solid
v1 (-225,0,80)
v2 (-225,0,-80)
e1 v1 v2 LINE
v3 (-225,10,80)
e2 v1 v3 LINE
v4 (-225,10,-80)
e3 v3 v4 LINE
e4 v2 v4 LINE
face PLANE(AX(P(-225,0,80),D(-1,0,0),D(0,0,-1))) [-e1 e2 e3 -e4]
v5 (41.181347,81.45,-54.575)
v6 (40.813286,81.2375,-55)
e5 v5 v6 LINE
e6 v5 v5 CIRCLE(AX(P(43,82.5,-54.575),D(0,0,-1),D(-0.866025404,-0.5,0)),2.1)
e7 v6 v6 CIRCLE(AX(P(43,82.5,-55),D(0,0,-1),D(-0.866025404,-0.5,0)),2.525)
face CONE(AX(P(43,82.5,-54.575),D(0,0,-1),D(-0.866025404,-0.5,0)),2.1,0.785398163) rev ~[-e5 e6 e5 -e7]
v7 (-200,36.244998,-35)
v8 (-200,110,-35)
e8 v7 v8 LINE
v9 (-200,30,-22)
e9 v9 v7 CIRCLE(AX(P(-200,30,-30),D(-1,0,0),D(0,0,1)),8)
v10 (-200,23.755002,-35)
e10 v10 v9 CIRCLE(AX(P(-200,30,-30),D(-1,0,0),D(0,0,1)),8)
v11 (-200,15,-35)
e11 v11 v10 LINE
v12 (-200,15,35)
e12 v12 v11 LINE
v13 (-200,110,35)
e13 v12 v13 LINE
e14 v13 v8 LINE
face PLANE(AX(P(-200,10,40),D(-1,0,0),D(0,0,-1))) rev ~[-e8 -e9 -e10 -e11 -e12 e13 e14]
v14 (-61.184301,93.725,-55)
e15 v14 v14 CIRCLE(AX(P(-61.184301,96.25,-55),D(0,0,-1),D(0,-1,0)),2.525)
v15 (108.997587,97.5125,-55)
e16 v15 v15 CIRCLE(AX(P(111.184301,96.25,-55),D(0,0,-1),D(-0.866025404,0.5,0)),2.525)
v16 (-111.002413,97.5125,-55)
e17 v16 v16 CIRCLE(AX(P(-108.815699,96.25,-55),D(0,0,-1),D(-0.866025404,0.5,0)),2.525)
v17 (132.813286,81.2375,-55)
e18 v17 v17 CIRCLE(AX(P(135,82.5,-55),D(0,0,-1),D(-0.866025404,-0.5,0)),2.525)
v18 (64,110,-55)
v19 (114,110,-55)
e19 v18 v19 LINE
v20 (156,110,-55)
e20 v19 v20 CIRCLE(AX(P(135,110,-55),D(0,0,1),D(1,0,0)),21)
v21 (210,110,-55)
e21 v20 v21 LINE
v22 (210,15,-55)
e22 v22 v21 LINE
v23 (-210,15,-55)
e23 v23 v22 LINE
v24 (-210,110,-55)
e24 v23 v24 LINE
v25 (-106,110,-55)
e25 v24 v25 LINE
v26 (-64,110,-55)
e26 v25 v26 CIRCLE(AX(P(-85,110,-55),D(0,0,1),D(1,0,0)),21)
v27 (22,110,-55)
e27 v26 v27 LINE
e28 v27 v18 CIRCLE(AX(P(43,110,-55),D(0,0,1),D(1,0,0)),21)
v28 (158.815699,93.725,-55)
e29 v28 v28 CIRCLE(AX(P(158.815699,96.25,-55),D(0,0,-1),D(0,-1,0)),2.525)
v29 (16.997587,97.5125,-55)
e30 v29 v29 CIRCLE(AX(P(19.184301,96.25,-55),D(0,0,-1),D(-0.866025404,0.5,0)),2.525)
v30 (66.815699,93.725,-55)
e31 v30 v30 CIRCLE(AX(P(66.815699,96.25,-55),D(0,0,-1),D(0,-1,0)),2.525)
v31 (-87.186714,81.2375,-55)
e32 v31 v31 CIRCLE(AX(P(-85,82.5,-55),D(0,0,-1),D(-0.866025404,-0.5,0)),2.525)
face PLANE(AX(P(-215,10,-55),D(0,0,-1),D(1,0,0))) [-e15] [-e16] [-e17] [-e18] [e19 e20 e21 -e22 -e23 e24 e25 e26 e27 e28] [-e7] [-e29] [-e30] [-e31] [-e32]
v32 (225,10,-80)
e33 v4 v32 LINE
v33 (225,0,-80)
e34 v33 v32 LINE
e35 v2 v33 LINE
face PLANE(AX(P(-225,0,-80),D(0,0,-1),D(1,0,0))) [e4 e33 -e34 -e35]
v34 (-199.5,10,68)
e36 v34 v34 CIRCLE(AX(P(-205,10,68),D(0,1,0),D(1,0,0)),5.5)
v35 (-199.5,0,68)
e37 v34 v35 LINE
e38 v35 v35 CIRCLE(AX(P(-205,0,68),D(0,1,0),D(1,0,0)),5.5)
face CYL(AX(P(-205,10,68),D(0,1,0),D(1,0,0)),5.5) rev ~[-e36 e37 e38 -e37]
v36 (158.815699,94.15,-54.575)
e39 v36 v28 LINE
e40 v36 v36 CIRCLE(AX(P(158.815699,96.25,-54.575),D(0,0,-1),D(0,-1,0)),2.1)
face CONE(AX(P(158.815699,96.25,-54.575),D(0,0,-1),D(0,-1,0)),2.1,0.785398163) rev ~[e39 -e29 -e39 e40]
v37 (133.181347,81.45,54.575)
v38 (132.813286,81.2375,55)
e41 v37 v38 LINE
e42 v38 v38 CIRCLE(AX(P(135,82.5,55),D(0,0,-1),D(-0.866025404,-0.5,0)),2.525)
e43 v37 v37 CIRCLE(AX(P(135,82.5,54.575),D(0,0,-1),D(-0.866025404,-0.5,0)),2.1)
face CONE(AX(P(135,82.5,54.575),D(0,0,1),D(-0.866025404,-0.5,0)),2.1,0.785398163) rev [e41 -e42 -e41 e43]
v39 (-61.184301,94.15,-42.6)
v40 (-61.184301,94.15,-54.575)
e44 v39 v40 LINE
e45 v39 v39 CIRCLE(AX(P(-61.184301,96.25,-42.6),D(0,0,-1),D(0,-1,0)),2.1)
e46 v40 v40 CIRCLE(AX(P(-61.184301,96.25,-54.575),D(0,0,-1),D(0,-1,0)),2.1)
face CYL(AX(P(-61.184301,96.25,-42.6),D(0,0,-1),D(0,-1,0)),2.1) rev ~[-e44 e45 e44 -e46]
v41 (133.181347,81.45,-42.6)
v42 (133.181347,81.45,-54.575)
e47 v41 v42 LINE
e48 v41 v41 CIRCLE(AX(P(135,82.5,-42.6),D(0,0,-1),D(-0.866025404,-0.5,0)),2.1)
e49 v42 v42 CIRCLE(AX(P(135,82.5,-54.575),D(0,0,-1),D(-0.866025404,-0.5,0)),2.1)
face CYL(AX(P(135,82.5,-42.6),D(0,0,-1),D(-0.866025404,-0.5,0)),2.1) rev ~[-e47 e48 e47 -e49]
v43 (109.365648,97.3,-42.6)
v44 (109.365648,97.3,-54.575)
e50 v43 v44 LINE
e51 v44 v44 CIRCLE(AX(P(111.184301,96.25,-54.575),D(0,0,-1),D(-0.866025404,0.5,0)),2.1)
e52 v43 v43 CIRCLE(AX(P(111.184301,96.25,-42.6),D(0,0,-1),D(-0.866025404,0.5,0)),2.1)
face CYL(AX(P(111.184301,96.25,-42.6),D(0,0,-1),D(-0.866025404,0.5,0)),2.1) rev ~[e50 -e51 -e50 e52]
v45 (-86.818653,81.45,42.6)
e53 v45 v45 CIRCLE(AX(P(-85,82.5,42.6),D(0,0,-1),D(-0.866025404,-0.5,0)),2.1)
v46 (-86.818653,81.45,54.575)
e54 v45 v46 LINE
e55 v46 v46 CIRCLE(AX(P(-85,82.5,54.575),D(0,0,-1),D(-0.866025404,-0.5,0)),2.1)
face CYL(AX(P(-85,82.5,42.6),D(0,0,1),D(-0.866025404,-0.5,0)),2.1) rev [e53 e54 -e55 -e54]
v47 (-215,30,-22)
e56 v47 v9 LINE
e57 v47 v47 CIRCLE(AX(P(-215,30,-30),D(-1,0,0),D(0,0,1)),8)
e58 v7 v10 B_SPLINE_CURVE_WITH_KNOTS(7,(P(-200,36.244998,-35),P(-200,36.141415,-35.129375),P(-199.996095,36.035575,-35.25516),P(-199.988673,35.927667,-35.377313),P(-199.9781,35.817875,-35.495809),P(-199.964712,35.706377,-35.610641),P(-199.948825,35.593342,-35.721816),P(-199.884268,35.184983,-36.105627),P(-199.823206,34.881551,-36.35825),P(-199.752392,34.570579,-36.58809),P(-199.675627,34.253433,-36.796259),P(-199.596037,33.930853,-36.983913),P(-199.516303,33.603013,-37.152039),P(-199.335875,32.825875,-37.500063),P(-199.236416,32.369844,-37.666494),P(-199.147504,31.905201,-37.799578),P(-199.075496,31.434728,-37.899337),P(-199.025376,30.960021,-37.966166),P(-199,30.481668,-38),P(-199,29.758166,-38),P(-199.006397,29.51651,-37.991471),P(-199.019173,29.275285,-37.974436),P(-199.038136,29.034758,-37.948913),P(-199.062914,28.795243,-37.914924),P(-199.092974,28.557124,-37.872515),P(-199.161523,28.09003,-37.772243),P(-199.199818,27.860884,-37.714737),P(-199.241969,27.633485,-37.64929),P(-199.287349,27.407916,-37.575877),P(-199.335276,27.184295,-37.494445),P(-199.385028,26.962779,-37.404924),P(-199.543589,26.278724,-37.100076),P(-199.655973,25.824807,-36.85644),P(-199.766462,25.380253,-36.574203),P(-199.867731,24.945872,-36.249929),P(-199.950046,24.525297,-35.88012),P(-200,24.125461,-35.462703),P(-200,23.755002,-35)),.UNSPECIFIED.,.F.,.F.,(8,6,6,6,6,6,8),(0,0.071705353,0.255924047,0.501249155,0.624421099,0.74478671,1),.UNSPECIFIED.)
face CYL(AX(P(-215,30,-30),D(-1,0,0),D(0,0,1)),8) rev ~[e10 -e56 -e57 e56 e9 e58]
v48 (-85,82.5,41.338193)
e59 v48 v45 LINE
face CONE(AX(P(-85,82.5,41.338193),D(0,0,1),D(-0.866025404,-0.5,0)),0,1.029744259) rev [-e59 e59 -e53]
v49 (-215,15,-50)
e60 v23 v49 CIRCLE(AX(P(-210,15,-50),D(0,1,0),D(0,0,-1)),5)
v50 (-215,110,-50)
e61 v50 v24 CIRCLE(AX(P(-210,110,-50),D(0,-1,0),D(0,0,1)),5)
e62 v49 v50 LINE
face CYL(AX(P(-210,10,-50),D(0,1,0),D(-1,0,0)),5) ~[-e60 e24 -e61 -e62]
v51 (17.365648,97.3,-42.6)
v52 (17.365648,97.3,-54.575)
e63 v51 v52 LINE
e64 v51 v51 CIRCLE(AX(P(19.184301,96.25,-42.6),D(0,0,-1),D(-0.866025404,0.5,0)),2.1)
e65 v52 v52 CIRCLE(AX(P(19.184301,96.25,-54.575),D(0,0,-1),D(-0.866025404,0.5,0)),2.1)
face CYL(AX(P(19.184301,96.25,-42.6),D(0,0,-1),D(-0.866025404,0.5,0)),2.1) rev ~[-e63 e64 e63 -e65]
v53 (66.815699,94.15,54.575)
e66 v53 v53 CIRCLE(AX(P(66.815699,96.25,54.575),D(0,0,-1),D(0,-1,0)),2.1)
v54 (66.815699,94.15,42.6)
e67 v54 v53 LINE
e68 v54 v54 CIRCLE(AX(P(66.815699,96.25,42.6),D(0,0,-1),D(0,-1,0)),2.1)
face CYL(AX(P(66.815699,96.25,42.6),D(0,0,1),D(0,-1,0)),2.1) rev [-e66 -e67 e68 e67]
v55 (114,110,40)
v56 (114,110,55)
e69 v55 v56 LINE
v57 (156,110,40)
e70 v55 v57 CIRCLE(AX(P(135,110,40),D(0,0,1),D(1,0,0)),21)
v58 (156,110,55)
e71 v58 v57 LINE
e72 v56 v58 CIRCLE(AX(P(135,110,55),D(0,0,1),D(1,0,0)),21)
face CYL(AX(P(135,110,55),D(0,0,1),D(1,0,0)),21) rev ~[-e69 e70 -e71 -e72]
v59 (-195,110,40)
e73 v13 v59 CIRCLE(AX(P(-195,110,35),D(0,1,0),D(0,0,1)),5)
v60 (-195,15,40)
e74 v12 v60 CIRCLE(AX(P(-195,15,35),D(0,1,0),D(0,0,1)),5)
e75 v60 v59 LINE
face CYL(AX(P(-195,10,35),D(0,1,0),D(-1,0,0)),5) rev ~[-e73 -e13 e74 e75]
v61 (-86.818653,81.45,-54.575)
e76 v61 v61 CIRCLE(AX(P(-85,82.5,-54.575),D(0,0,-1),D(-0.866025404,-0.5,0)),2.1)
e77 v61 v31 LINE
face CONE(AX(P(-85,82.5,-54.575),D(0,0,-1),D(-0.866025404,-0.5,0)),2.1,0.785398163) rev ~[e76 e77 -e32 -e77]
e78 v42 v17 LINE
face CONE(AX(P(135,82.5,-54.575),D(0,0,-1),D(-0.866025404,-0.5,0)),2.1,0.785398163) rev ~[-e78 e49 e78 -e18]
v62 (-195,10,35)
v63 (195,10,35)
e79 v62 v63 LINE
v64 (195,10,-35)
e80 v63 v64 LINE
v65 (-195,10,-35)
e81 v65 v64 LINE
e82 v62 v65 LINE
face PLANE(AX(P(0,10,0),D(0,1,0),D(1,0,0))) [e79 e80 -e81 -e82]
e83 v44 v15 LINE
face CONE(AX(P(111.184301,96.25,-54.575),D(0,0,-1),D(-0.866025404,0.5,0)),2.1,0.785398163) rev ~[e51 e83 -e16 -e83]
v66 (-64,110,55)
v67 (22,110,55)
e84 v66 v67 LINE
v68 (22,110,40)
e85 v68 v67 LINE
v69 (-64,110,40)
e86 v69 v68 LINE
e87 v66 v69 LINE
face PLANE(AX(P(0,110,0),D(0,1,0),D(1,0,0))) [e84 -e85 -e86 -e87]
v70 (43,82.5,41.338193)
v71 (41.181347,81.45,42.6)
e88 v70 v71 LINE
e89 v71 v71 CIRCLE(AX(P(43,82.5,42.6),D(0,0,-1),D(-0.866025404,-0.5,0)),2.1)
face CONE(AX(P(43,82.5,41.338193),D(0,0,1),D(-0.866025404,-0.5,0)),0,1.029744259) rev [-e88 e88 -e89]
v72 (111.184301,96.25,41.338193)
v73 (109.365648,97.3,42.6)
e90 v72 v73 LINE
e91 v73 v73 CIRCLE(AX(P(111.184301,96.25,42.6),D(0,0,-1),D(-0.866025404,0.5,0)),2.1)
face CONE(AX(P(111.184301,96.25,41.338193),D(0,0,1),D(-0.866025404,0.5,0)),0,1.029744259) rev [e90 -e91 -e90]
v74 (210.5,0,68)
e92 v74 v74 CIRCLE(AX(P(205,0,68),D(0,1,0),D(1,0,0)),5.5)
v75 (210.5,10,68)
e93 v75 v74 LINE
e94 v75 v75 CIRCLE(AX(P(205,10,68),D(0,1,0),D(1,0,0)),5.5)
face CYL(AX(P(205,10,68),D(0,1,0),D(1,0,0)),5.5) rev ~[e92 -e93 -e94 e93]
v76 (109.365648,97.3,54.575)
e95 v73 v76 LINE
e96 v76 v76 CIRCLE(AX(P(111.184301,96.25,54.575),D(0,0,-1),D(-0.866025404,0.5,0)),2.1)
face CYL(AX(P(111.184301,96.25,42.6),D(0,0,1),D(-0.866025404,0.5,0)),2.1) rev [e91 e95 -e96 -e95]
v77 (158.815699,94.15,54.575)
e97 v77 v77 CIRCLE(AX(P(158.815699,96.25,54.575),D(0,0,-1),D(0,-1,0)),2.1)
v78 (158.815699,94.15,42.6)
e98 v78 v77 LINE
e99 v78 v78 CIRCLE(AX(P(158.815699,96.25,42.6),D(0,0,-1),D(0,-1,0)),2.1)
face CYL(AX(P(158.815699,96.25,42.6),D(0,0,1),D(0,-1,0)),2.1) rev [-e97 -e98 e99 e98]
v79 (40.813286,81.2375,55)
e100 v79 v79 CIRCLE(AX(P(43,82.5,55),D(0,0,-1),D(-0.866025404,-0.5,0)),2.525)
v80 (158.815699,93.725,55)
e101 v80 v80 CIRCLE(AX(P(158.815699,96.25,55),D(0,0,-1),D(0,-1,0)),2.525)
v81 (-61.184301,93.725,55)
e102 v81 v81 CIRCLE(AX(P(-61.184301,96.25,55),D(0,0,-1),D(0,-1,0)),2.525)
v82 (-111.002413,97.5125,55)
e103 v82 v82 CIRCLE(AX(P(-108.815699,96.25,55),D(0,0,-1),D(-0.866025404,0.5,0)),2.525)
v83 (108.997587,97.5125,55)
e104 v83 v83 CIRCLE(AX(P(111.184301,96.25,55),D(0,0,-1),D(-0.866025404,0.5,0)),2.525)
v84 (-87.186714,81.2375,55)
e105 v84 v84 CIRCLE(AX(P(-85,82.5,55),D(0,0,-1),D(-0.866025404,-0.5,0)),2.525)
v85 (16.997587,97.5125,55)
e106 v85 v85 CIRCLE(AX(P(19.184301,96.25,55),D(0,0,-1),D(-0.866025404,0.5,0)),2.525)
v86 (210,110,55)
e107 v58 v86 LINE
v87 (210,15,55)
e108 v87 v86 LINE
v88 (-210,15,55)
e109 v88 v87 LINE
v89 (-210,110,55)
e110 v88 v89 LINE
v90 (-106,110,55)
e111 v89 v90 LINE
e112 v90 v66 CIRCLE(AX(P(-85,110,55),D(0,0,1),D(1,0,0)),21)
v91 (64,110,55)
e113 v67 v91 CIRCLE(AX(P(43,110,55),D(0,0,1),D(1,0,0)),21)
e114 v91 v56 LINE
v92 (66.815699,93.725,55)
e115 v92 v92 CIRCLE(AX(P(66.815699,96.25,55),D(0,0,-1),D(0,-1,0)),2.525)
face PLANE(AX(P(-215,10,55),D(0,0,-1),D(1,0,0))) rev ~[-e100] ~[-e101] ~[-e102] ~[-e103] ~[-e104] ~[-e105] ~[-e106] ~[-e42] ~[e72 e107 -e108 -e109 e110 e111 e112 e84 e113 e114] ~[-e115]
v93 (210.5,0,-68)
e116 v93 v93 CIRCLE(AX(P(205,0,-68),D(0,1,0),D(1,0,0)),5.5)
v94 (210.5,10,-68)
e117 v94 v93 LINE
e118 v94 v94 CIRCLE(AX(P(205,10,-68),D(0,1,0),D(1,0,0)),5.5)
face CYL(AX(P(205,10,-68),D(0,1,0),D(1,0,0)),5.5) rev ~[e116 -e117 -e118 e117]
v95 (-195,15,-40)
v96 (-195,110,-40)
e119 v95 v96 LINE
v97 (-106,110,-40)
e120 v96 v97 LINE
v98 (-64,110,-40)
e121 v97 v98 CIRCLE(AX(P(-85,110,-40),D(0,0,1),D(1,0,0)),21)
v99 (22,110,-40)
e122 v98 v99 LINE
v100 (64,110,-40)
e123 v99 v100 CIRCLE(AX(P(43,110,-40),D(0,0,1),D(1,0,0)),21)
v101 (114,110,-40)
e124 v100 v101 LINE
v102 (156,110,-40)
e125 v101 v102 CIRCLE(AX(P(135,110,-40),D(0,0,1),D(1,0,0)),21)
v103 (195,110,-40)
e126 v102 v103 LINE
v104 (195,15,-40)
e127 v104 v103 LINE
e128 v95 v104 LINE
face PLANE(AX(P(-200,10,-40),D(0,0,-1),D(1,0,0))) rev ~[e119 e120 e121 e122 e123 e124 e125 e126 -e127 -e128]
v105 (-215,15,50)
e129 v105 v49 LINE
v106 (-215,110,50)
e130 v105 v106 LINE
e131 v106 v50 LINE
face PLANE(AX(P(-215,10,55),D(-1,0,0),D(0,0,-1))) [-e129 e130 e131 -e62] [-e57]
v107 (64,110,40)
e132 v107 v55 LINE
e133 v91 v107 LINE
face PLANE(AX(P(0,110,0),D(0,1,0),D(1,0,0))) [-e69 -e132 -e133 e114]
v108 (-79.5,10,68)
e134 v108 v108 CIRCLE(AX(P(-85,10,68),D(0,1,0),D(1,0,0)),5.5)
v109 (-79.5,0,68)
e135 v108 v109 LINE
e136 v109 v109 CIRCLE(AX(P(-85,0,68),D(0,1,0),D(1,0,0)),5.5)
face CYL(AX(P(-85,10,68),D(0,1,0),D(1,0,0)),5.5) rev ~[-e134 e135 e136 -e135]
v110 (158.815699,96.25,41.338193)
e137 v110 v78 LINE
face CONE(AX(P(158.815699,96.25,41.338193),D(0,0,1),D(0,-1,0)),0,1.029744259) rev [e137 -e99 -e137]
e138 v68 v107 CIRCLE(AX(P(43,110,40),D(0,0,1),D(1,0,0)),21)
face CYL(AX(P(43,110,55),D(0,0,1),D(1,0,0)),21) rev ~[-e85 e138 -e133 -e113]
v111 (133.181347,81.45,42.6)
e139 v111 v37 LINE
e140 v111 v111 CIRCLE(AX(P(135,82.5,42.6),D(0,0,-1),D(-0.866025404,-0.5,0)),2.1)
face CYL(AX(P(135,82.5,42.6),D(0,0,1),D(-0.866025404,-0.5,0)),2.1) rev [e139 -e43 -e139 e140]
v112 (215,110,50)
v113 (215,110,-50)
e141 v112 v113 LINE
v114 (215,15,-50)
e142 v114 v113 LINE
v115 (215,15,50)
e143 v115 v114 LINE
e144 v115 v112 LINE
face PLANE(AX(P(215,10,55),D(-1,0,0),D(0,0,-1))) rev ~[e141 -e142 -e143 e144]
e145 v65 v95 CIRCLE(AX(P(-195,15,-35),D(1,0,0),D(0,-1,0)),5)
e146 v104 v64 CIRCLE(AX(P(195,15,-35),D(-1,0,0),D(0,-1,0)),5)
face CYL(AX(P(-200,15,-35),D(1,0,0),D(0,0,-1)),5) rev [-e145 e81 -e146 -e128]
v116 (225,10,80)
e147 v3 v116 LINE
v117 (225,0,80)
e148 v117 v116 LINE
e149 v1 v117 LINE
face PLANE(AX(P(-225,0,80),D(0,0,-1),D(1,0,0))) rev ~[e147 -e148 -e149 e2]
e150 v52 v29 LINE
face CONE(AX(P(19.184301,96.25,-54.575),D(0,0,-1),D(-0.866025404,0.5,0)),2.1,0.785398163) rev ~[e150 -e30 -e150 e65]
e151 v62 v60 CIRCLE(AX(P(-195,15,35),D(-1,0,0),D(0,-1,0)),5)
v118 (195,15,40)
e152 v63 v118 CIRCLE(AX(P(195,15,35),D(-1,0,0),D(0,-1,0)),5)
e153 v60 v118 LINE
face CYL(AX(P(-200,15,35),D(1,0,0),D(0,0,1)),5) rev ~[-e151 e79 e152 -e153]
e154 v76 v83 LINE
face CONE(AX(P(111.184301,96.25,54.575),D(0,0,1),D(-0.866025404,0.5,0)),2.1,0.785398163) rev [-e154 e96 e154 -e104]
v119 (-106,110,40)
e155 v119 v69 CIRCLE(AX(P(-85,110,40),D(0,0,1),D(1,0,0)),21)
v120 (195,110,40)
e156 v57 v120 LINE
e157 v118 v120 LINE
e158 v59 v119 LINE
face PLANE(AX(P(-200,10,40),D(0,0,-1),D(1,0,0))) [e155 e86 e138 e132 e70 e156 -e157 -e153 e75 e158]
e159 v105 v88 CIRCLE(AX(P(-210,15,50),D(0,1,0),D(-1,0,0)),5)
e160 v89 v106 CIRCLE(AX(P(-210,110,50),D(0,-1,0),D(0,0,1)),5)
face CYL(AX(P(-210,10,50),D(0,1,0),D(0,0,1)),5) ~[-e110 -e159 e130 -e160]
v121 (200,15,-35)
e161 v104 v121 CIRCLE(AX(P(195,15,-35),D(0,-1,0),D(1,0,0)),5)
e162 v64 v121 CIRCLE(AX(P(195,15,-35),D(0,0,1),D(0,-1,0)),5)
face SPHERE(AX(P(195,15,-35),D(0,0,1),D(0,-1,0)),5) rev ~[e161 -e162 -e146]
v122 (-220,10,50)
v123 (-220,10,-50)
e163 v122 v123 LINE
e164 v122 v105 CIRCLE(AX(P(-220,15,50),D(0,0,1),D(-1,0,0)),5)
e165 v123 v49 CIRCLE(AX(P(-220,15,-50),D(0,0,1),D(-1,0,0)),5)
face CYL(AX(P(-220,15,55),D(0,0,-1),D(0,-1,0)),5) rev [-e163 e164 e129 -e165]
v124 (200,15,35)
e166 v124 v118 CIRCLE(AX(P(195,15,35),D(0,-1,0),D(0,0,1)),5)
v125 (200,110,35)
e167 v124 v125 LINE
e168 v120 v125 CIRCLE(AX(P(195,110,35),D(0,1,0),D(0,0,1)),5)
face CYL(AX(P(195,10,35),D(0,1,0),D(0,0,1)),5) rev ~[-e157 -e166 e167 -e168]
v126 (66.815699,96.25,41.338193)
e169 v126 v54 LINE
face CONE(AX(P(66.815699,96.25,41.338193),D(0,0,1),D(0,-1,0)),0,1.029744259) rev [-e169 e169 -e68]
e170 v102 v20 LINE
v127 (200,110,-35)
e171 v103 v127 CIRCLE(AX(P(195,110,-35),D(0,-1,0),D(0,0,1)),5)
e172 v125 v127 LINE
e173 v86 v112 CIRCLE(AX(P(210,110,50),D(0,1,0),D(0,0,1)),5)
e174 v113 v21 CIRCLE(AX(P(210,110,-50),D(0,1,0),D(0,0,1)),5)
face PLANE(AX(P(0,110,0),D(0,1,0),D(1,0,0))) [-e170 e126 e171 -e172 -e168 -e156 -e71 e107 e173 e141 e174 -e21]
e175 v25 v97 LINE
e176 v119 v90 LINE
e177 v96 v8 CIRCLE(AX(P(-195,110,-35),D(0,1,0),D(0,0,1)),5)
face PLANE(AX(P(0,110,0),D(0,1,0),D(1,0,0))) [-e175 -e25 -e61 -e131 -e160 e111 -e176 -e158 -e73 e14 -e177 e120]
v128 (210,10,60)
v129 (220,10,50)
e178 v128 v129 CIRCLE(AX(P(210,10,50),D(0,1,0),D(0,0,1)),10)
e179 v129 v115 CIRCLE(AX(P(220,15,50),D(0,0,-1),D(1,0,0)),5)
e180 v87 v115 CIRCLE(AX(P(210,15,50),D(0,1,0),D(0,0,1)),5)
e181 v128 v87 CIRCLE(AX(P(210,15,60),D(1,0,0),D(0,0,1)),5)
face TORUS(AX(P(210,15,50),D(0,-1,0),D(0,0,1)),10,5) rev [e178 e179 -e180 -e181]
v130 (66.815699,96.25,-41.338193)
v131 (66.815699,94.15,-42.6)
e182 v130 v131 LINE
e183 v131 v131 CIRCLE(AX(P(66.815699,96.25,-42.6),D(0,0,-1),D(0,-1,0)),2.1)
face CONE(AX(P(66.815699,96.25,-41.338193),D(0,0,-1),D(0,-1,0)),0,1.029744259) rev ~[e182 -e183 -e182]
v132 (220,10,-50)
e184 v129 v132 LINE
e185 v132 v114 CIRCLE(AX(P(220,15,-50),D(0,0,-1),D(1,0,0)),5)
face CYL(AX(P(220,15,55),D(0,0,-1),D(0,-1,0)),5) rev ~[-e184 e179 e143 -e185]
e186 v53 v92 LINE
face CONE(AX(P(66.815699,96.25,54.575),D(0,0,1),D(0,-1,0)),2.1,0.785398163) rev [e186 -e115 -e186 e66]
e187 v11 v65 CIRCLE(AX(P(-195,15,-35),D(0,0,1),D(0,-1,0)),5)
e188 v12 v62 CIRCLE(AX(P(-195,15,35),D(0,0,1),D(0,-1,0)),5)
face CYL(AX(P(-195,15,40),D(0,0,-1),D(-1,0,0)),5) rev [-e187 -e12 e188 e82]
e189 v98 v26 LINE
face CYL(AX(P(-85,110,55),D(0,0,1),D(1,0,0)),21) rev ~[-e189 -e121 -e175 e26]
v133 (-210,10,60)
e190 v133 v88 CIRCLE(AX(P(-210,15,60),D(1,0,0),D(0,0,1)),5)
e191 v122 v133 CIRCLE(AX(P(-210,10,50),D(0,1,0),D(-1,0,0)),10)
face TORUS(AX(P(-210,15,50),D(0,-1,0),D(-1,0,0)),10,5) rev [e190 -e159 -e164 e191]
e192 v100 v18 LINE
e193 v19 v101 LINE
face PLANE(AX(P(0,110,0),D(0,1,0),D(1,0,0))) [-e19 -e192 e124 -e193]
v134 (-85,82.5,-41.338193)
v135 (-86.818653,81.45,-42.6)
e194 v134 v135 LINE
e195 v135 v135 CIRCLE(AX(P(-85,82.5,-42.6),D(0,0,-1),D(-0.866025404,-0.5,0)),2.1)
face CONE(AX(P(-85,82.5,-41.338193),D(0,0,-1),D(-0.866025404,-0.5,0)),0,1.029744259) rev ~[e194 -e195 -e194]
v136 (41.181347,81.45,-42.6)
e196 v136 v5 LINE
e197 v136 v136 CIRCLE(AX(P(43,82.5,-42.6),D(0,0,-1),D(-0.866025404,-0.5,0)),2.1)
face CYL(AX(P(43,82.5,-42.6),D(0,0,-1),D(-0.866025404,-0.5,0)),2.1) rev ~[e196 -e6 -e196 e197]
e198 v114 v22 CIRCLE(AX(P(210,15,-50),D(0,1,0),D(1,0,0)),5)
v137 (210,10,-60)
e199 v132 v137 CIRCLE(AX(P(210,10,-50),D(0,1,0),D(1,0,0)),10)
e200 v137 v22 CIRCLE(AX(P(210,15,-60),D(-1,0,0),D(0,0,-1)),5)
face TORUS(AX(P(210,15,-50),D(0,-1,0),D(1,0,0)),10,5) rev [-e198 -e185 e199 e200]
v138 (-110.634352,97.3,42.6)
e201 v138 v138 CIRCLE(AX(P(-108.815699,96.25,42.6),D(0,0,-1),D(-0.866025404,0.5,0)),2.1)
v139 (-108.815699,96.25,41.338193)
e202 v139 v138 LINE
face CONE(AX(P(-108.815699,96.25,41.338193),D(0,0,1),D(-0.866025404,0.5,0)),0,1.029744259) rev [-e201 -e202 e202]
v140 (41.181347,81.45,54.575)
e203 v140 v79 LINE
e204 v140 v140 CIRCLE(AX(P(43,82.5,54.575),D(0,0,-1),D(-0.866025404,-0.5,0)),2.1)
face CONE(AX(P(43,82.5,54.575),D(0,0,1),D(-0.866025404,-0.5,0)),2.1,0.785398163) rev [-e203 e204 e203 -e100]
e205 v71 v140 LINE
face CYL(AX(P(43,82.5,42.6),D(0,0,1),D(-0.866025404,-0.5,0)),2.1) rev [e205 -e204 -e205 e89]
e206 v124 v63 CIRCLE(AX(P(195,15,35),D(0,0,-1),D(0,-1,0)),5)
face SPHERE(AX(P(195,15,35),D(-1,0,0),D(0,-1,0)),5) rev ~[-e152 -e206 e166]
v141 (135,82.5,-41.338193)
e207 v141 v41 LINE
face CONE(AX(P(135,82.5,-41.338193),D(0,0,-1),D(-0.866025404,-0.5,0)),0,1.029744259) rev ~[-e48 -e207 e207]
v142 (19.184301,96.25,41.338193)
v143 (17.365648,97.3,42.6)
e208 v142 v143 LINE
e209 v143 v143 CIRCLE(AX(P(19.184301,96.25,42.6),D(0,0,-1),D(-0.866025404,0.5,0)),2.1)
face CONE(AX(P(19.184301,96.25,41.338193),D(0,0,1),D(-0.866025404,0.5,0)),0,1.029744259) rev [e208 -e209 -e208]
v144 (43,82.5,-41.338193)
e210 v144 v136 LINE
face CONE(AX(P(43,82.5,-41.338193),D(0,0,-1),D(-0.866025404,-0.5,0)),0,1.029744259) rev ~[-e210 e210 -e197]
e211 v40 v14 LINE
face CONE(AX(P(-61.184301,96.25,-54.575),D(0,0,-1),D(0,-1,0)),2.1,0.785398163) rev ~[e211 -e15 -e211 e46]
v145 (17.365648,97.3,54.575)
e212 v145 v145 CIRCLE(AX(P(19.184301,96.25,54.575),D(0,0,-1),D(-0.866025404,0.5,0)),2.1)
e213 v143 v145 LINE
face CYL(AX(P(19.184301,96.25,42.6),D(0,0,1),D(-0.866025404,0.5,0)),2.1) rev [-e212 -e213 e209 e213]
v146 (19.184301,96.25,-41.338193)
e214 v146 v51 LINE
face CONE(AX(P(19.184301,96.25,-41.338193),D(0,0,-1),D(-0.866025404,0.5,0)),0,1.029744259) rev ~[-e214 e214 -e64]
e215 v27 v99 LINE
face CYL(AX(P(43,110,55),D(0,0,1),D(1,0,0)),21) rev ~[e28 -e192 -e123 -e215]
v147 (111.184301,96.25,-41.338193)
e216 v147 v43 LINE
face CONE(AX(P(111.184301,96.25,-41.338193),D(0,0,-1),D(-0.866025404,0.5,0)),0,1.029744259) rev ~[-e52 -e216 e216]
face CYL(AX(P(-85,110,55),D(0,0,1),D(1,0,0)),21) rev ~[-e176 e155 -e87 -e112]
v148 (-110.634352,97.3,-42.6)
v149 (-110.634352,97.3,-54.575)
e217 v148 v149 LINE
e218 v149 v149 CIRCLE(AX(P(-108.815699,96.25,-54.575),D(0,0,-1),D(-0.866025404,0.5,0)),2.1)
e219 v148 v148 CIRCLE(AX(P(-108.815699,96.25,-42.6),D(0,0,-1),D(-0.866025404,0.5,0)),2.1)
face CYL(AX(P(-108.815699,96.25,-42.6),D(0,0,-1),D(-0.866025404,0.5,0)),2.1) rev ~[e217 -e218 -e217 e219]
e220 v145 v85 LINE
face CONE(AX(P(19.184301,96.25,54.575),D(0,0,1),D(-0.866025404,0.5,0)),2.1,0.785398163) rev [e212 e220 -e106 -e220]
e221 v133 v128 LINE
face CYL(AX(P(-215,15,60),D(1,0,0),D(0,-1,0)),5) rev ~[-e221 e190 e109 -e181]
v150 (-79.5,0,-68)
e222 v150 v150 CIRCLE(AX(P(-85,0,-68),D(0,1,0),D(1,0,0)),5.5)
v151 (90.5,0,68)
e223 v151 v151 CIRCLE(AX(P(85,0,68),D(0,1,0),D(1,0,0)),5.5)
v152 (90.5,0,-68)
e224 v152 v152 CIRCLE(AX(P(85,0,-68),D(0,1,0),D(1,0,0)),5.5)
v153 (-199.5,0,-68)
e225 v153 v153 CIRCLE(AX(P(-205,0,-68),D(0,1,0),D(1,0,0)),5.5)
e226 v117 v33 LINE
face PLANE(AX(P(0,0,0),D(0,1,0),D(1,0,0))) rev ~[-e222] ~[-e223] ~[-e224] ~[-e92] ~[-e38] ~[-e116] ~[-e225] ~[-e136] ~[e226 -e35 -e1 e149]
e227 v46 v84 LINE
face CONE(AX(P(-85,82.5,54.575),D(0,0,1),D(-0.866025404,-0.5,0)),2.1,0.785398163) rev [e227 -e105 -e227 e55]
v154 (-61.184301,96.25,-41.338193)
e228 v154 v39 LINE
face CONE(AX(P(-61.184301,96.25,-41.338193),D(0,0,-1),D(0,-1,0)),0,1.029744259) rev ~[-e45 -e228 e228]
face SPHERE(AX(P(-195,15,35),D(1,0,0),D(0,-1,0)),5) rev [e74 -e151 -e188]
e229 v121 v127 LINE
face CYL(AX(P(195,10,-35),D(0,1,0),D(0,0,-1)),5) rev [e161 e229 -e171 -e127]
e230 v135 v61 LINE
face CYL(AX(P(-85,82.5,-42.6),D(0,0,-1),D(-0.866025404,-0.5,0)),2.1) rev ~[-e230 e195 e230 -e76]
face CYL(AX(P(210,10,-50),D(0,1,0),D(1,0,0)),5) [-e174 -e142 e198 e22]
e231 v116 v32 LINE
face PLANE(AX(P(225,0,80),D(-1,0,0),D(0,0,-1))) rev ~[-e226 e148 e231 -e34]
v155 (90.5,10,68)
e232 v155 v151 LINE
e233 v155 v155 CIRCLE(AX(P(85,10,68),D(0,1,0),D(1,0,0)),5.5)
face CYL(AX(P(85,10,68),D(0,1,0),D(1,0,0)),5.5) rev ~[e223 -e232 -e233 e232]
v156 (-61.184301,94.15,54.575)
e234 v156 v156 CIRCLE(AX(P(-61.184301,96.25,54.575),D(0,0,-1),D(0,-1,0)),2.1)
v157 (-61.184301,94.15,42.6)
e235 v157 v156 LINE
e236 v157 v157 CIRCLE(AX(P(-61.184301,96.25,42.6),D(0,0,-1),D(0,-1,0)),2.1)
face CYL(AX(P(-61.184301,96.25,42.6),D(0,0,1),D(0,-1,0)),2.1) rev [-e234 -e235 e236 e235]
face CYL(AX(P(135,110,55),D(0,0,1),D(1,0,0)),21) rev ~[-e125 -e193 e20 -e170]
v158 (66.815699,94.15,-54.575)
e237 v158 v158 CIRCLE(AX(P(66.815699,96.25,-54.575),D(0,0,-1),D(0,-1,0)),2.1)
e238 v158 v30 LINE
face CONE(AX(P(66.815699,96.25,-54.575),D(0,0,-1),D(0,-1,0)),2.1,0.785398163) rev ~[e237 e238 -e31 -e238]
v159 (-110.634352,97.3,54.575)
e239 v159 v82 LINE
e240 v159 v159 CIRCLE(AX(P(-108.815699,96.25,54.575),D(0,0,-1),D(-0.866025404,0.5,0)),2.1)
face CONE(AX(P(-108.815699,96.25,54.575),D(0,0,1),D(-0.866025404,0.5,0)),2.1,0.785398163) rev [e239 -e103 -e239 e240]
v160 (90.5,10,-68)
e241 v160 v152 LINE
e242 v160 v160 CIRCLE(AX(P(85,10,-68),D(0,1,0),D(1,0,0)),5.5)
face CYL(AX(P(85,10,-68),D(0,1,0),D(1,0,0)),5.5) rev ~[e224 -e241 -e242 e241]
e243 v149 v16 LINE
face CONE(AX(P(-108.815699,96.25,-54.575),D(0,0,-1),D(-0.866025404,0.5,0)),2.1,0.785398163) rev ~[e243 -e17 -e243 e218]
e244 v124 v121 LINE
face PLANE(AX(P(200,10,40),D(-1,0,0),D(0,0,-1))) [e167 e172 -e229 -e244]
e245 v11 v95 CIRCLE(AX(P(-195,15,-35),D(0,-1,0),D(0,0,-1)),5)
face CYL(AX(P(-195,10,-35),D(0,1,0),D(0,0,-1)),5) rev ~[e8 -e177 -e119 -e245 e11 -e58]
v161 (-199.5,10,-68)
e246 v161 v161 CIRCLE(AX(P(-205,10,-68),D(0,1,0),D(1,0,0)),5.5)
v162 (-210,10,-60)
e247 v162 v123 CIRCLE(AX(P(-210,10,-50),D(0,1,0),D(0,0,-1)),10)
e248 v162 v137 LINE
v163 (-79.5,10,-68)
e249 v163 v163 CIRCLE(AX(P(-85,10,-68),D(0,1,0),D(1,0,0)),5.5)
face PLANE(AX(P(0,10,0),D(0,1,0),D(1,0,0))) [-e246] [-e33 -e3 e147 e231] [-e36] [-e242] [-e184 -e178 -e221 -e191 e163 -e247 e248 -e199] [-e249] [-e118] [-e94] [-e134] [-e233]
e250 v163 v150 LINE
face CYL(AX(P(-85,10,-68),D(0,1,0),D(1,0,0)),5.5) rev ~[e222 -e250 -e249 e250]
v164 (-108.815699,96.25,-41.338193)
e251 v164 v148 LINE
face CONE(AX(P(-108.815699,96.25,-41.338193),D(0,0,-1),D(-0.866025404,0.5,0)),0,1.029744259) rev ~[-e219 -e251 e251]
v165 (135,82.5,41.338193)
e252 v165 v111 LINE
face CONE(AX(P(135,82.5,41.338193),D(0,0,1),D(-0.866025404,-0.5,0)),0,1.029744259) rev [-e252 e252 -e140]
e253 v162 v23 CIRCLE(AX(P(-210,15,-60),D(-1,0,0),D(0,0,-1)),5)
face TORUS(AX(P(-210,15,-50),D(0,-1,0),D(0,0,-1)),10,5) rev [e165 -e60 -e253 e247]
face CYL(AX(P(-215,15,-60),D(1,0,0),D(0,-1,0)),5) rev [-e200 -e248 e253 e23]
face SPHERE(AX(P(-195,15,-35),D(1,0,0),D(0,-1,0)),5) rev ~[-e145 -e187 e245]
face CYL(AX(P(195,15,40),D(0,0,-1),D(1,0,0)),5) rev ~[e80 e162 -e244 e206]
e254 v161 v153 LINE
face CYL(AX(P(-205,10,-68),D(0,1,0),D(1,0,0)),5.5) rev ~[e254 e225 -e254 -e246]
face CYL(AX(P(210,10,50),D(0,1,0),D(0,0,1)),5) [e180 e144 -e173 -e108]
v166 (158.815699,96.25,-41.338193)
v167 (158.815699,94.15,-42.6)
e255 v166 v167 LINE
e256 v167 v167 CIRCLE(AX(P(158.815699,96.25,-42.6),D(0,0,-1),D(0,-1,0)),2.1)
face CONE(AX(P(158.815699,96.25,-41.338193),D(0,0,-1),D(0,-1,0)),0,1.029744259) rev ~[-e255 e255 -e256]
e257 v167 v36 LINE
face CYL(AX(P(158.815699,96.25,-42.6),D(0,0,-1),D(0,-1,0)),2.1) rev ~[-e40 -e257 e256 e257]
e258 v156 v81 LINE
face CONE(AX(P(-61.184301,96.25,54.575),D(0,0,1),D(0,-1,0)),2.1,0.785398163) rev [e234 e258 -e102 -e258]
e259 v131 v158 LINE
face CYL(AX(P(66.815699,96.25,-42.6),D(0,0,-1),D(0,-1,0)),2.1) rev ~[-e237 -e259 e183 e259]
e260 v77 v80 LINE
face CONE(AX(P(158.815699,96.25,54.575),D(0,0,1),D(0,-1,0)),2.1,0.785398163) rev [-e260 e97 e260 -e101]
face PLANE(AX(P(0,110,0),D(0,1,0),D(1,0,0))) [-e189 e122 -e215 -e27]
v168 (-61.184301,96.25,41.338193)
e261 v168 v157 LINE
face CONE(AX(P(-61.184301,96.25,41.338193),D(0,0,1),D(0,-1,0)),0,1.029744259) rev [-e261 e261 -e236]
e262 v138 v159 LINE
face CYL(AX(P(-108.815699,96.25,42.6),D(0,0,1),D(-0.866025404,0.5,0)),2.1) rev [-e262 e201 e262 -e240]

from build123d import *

# Parameters (mm, degrees)
SKETCH1_W           = 450
SKETCH1_H           = 160
BOSS_EXTRUDE1_DEPTH = 10
SKETCH2_W           = 430
SKETCH2_H           = 110
SKETCH2_W_2         = 400
SKETCH2_H_2         = 80
BOSS_EXTRUDE2_DEPTH = 100
SKETCH3_R           = 5.5
CUT_EXTRUDE1_DEPTH  = 100
SKETCH4_R           = 21
CUT_EXTRUDE2_DEPTH  = 136
CIRPATTERN1_COUNT   = 6
CIRPATTERN2_COUNT   = 6
CIRPATTERN3_COUNT   = 6
FILLET1_R           = 5
SKETCH13_R          = 8
CUT_EXTRUDE3_DEPTH  = 100


with BuildPart() as part:
    # Sketch1 → Boss-Extrude1 (new body)
    with BuildSketch(Plane(origin=(0, 0, 0), x_dir=(1, 0, 0), z_dir=(0, 1, 0))):
        Rectangle(SKETCH1_W, SKETCH1_H)
    extrude(amount=BOSS_EXTRUDE1_DEPTH)

    # Sketch2 → Boss-Extrude2 (add)
    with BuildSketch(Plane(origin=(0, 10, 0), x_dir=(1, 0, 0), z_dir=(0, 1, 0))):
        Rectangle(SKETCH2_W, SKETCH2_H)
        Rectangle(SKETCH2_W_2, SKETCH2_H_2, mode=Mode.SUBTRACT)
    extrude(amount=BOSS_EXTRUDE2_DEPTH)

    # Sketch3 → Cut-Extrude1 (cut)
    with BuildSketch(Plane(origin=(0, 10, 0), x_dir=(1, 0, 0), z_dir=(0, 1, 0))):
        with Locations((-205, 68)):
            Circle(SKETCH3_R)
        with Locations((-85, 68)):
            Circle(SKETCH3_R)
        with Locations((-205, -68)):
            Circle(SKETCH3_R)
        with Locations((-85, -68)):
            Circle(SKETCH3_R)
        with Locations((205, 68)):
            Circle(SKETCH3_R)
        with Locations((85, 68)):
            Circle(SKETCH3_R)
        with Locations((85, -68)):
            Circle(SKETCH3_R)
        with Locations((205, -68)):
            Circle(SKETCH3_R)
    extrude(amount=-CUT_EXTRUDE1_DEPTH, mode=Mode.SUBTRACT)

    # Sketch4 → Cut-Extrude2 (cut, through all)
    with BuildSketch(Plane.XY.offset(55)):
        with Locations((-85, 110)):
            Circle(SKETCH4_R)
        with Locations((43, 110)):
            Circle(SKETCH4_R)
        with Locations((135, 110)):
            Circle(SKETCH4_R)
    extrude(amount=-CUT_EXTRUDE2_DEPTH, mode=Mode.SUBTRACT)

    # Sketch10 → M5 Tapped Hole1 (revolve, cut)
    with BuildSketch(Plane(origin=(158.815698604, 96.25, 55), x_dir=(0, -1, 0), z_dir=(1, 0, 0))):
        Polygon((0, 0), (0, 13.6618073), (2.1, 12.4), (2.1, 0.425), (2.525, 0), align=None)
    m5_tapped_hole1 = revolve(axis=Axis((158.815698604, 96.25, 61.35), (0, 0, -1)), mode=Mode.SUBTRACT)

    # Sketch11 → M5 Tapped Hole2 (revolve, cut)
    with BuildSketch(Plane(origin=(66.815698604, 96.25, 55), x_dir=(0, -1, 0), z_dir=(1, 0, 0))):
        Polygon((0, 0), (0, 13.6618073), (2.1, 12.4), (2.1, 0.425), (2.525, 0), align=None)
    m5_tapped_hole2 = revolve(axis=Axis((66.815698604, 96.25, 61.35), (0, 0, -1)), mode=Mode.SUBTRACT)

    # Sketch12 → M5 Tapped Hole3 (revolve, cut)
    with BuildSketch(Plane(origin=(-61.184301396, 96.25, 55), x_dir=(0, -1, 0), z_dir=(1, 0, 0))):
        Polygon((0, 0), (0, 13.6618073), (2.1, 12.4), (2.1, 0.425), (2.525, 0), align=None)
    m5_tapped_hole3 = revolve(axis=Axis((-61.184301396, 96.25, 61.35), (0, 0, -1)), mode=Mode.SUBTRACT)

    # CirPattern1: M5 Tapped Hole1 ×6 about axis, 3 skipped
    cirpattern1_axis = Axis((135, 110, -80), (0, 0, 1))
    add([m5_tapped_hole1.rotate(cirpattern1_axis, i * 360 / CIRPATTERN1_COUNT) for i in range(1, CIRPATTERN1_COUNT) if i not in (1, 2, 3)], mode=Mode.SUBTRACT)

    # CirPattern2: M5 Tapped Hole2 ×6 about axis, 3 skipped
    cirpattern2_axis = Axis((43, 110, -80), (0, 0, 1))
    add([m5_tapped_hole2.rotate(cirpattern2_axis, i * 360 / CIRPATTERN2_COUNT) for i in range(1, CIRPATTERN2_COUNT) if i not in (1, 2, 3)], mode=Mode.SUBTRACT)

    # CirPattern3: M5 Tapped Hole3 ×6 about axis, 3 skipped
    cirpattern3_axis = Axis((-85, 110, -80), (0, 0, 1))
    add([m5_tapped_hole3.rotate(cirpattern3_axis, i * 360 / CIRPATTERN3_COUNT) for i in range(1, CIRPATTERN3_COUNT) if i not in (1, 2, 3)], mode=Mode.SUBTRACT)

    # Mirror3: M5 Tapped Hole1, M5 Tapped Hole2, M5 Tapped Hole3 across plane
    add(m5_tapped_hole1.mirror(Plane.XY), mode=Mode.SUBTRACT)
    add(m5_tapped_hole2.mirror(Plane.XY), mode=Mode.SUBTRACT)
    add(m5_tapped_hole3.mirror(Plane.XY), mode=Mode.SUBTRACT)

    # Mirror3 copy 1 sketch → Mirror3 copy 1 (revolve, cut)
    with BuildSketch(Plane(origin=(111.184301396, 96.25, -55), x_dir=(-0.866025404, 0.5, 0), z_dir=(-0.5, -0.866025404, 0))):
        Polygon((0, 0), (0, -13.6618073), (2.1, -12.4), (2.1, -0.425), (2.525, 0), align=None)
    revolve(axis=Axis((111.184301396, 96.25, -61.35), (0, 0, -1)), mode=Mode.SUBTRACT)

    # Mirror3 copy 2 sketch → Mirror3 copy 2 (revolve, cut)
    with BuildSketch(Plane(origin=(135, 82.5, -55), x_dir=(-0.866025404, -0.5, 0), z_dir=(0.5, -0.866025404, 0))):
        Polygon((0, 0), (0, -13.6618073), (2.1, -12.4), (2.1, -0.425), (2.525, 0), align=None)
    revolve(axis=Axis((135, 82.5, -61.35), (0, 0, -1)), mode=Mode.SUBTRACT)

    # Mirror3 copy 3 sketch → Mirror3 copy 3 (revolve, cut)
    with BuildSketch(Plane(origin=(19.184301396, 96.25, -55), x_dir=(-0.866025404, 0.5, 0), z_dir=(-0.5, -0.866025404, 0))):
        Polygon((0, 0), (0, -13.6618073), (2.1, -12.4), (2.1, -0.425), (2.525, 0), align=None)
    revolve(axis=Axis((19.184301396, 96.25, -61.35), (0, 0, -1)), mode=Mode.SUBTRACT)

    # Mirror3 copy 4 sketch → Mirror3 copy 4 (revolve, cut)
    with BuildSketch(Plane(origin=(43, 82.5, -55), x_dir=(-0.866025404, -0.5, 0), z_dir=(0.5, -0.866025404, 0))):
        Polygon((0, 0), (0, -13.6618073), (2.1, -12.4), (2.1, -0.425), (2.525, 0), align=None)
    revolve(axis=Axis((43, 82.5, -61.35), (0, 0, -1)), mode=Mode.SUBTRACT)

    # Mirror3 copy 5 sketch → Mirror3 copy 5 (revolve, cut)
    with BuildSketch(Plane(origin=(-108.815698604, 96.25, -55), x_dir=(-0.866025404, 0.5, 0), z_dir=(-0.5, -0.866025404, 0))):
        Polygon((0, 0), (0, -13.6618073), (2.1, -12.4), (2.1, -0.425), (2.525, 0), align=None)
    revolve(axis=Axis((-108.815698604, 96.25, -61.35), (0, 0, -1)), mode=Mode.SUBTRACT)

    # Mirror3 copy 6 sketch → Mirror3 copy 6 (revolve, cut)
    with BuildSketch(Plane(origin=(-85, 82.5, -55), x_dir=(-0.866025404, -0.5, 0), z_dir=(0.5, -0.866025404, 0))):
        Polygon((0, 0), (0, -13.6618073), (2.1, -12.4), (2.1, -0.425), (2.525, 0), align=None)
    revolve(axis=Axis((-85, 82.5, -61.35), (0, 0, -1)), mode=Mode.SUBTRACT)

    # Fillet1
    fillet1_edges = [part.edges().sort_by_distance(p)[0] for p in [
        (0, 10, 40),
        (200, 10, 0),
        (0, 10, -40),
        (-200, 10, 0),
        (215, 10, 0),
        (215, 60, 55),
        (0, 10, -55),
        (215, 60, -55),
        (-215, 10, 0),
        (-215, 60, -55),
        (0, 10, 55),
        (-215, 60, 55),
        (200, 60, -40),
        (-200, 60, -40),
        (-200, 60, 40),
        (200, 60, 40),
    ]]
    fillet(fillet1_edges, radius=FILLET1_R)

    # Sketch13 → Cut-Extrude3 (cut)
    with BuildSketch(Plane.ZY.offset(215)):
        with Locations((-30, 30)):
            Circle(SKETCH13_R)
    extrude(amount=-CUT_EXTRUDE3_DEPTH, mode=Mode.SUBTRACT)


solid = part.part
